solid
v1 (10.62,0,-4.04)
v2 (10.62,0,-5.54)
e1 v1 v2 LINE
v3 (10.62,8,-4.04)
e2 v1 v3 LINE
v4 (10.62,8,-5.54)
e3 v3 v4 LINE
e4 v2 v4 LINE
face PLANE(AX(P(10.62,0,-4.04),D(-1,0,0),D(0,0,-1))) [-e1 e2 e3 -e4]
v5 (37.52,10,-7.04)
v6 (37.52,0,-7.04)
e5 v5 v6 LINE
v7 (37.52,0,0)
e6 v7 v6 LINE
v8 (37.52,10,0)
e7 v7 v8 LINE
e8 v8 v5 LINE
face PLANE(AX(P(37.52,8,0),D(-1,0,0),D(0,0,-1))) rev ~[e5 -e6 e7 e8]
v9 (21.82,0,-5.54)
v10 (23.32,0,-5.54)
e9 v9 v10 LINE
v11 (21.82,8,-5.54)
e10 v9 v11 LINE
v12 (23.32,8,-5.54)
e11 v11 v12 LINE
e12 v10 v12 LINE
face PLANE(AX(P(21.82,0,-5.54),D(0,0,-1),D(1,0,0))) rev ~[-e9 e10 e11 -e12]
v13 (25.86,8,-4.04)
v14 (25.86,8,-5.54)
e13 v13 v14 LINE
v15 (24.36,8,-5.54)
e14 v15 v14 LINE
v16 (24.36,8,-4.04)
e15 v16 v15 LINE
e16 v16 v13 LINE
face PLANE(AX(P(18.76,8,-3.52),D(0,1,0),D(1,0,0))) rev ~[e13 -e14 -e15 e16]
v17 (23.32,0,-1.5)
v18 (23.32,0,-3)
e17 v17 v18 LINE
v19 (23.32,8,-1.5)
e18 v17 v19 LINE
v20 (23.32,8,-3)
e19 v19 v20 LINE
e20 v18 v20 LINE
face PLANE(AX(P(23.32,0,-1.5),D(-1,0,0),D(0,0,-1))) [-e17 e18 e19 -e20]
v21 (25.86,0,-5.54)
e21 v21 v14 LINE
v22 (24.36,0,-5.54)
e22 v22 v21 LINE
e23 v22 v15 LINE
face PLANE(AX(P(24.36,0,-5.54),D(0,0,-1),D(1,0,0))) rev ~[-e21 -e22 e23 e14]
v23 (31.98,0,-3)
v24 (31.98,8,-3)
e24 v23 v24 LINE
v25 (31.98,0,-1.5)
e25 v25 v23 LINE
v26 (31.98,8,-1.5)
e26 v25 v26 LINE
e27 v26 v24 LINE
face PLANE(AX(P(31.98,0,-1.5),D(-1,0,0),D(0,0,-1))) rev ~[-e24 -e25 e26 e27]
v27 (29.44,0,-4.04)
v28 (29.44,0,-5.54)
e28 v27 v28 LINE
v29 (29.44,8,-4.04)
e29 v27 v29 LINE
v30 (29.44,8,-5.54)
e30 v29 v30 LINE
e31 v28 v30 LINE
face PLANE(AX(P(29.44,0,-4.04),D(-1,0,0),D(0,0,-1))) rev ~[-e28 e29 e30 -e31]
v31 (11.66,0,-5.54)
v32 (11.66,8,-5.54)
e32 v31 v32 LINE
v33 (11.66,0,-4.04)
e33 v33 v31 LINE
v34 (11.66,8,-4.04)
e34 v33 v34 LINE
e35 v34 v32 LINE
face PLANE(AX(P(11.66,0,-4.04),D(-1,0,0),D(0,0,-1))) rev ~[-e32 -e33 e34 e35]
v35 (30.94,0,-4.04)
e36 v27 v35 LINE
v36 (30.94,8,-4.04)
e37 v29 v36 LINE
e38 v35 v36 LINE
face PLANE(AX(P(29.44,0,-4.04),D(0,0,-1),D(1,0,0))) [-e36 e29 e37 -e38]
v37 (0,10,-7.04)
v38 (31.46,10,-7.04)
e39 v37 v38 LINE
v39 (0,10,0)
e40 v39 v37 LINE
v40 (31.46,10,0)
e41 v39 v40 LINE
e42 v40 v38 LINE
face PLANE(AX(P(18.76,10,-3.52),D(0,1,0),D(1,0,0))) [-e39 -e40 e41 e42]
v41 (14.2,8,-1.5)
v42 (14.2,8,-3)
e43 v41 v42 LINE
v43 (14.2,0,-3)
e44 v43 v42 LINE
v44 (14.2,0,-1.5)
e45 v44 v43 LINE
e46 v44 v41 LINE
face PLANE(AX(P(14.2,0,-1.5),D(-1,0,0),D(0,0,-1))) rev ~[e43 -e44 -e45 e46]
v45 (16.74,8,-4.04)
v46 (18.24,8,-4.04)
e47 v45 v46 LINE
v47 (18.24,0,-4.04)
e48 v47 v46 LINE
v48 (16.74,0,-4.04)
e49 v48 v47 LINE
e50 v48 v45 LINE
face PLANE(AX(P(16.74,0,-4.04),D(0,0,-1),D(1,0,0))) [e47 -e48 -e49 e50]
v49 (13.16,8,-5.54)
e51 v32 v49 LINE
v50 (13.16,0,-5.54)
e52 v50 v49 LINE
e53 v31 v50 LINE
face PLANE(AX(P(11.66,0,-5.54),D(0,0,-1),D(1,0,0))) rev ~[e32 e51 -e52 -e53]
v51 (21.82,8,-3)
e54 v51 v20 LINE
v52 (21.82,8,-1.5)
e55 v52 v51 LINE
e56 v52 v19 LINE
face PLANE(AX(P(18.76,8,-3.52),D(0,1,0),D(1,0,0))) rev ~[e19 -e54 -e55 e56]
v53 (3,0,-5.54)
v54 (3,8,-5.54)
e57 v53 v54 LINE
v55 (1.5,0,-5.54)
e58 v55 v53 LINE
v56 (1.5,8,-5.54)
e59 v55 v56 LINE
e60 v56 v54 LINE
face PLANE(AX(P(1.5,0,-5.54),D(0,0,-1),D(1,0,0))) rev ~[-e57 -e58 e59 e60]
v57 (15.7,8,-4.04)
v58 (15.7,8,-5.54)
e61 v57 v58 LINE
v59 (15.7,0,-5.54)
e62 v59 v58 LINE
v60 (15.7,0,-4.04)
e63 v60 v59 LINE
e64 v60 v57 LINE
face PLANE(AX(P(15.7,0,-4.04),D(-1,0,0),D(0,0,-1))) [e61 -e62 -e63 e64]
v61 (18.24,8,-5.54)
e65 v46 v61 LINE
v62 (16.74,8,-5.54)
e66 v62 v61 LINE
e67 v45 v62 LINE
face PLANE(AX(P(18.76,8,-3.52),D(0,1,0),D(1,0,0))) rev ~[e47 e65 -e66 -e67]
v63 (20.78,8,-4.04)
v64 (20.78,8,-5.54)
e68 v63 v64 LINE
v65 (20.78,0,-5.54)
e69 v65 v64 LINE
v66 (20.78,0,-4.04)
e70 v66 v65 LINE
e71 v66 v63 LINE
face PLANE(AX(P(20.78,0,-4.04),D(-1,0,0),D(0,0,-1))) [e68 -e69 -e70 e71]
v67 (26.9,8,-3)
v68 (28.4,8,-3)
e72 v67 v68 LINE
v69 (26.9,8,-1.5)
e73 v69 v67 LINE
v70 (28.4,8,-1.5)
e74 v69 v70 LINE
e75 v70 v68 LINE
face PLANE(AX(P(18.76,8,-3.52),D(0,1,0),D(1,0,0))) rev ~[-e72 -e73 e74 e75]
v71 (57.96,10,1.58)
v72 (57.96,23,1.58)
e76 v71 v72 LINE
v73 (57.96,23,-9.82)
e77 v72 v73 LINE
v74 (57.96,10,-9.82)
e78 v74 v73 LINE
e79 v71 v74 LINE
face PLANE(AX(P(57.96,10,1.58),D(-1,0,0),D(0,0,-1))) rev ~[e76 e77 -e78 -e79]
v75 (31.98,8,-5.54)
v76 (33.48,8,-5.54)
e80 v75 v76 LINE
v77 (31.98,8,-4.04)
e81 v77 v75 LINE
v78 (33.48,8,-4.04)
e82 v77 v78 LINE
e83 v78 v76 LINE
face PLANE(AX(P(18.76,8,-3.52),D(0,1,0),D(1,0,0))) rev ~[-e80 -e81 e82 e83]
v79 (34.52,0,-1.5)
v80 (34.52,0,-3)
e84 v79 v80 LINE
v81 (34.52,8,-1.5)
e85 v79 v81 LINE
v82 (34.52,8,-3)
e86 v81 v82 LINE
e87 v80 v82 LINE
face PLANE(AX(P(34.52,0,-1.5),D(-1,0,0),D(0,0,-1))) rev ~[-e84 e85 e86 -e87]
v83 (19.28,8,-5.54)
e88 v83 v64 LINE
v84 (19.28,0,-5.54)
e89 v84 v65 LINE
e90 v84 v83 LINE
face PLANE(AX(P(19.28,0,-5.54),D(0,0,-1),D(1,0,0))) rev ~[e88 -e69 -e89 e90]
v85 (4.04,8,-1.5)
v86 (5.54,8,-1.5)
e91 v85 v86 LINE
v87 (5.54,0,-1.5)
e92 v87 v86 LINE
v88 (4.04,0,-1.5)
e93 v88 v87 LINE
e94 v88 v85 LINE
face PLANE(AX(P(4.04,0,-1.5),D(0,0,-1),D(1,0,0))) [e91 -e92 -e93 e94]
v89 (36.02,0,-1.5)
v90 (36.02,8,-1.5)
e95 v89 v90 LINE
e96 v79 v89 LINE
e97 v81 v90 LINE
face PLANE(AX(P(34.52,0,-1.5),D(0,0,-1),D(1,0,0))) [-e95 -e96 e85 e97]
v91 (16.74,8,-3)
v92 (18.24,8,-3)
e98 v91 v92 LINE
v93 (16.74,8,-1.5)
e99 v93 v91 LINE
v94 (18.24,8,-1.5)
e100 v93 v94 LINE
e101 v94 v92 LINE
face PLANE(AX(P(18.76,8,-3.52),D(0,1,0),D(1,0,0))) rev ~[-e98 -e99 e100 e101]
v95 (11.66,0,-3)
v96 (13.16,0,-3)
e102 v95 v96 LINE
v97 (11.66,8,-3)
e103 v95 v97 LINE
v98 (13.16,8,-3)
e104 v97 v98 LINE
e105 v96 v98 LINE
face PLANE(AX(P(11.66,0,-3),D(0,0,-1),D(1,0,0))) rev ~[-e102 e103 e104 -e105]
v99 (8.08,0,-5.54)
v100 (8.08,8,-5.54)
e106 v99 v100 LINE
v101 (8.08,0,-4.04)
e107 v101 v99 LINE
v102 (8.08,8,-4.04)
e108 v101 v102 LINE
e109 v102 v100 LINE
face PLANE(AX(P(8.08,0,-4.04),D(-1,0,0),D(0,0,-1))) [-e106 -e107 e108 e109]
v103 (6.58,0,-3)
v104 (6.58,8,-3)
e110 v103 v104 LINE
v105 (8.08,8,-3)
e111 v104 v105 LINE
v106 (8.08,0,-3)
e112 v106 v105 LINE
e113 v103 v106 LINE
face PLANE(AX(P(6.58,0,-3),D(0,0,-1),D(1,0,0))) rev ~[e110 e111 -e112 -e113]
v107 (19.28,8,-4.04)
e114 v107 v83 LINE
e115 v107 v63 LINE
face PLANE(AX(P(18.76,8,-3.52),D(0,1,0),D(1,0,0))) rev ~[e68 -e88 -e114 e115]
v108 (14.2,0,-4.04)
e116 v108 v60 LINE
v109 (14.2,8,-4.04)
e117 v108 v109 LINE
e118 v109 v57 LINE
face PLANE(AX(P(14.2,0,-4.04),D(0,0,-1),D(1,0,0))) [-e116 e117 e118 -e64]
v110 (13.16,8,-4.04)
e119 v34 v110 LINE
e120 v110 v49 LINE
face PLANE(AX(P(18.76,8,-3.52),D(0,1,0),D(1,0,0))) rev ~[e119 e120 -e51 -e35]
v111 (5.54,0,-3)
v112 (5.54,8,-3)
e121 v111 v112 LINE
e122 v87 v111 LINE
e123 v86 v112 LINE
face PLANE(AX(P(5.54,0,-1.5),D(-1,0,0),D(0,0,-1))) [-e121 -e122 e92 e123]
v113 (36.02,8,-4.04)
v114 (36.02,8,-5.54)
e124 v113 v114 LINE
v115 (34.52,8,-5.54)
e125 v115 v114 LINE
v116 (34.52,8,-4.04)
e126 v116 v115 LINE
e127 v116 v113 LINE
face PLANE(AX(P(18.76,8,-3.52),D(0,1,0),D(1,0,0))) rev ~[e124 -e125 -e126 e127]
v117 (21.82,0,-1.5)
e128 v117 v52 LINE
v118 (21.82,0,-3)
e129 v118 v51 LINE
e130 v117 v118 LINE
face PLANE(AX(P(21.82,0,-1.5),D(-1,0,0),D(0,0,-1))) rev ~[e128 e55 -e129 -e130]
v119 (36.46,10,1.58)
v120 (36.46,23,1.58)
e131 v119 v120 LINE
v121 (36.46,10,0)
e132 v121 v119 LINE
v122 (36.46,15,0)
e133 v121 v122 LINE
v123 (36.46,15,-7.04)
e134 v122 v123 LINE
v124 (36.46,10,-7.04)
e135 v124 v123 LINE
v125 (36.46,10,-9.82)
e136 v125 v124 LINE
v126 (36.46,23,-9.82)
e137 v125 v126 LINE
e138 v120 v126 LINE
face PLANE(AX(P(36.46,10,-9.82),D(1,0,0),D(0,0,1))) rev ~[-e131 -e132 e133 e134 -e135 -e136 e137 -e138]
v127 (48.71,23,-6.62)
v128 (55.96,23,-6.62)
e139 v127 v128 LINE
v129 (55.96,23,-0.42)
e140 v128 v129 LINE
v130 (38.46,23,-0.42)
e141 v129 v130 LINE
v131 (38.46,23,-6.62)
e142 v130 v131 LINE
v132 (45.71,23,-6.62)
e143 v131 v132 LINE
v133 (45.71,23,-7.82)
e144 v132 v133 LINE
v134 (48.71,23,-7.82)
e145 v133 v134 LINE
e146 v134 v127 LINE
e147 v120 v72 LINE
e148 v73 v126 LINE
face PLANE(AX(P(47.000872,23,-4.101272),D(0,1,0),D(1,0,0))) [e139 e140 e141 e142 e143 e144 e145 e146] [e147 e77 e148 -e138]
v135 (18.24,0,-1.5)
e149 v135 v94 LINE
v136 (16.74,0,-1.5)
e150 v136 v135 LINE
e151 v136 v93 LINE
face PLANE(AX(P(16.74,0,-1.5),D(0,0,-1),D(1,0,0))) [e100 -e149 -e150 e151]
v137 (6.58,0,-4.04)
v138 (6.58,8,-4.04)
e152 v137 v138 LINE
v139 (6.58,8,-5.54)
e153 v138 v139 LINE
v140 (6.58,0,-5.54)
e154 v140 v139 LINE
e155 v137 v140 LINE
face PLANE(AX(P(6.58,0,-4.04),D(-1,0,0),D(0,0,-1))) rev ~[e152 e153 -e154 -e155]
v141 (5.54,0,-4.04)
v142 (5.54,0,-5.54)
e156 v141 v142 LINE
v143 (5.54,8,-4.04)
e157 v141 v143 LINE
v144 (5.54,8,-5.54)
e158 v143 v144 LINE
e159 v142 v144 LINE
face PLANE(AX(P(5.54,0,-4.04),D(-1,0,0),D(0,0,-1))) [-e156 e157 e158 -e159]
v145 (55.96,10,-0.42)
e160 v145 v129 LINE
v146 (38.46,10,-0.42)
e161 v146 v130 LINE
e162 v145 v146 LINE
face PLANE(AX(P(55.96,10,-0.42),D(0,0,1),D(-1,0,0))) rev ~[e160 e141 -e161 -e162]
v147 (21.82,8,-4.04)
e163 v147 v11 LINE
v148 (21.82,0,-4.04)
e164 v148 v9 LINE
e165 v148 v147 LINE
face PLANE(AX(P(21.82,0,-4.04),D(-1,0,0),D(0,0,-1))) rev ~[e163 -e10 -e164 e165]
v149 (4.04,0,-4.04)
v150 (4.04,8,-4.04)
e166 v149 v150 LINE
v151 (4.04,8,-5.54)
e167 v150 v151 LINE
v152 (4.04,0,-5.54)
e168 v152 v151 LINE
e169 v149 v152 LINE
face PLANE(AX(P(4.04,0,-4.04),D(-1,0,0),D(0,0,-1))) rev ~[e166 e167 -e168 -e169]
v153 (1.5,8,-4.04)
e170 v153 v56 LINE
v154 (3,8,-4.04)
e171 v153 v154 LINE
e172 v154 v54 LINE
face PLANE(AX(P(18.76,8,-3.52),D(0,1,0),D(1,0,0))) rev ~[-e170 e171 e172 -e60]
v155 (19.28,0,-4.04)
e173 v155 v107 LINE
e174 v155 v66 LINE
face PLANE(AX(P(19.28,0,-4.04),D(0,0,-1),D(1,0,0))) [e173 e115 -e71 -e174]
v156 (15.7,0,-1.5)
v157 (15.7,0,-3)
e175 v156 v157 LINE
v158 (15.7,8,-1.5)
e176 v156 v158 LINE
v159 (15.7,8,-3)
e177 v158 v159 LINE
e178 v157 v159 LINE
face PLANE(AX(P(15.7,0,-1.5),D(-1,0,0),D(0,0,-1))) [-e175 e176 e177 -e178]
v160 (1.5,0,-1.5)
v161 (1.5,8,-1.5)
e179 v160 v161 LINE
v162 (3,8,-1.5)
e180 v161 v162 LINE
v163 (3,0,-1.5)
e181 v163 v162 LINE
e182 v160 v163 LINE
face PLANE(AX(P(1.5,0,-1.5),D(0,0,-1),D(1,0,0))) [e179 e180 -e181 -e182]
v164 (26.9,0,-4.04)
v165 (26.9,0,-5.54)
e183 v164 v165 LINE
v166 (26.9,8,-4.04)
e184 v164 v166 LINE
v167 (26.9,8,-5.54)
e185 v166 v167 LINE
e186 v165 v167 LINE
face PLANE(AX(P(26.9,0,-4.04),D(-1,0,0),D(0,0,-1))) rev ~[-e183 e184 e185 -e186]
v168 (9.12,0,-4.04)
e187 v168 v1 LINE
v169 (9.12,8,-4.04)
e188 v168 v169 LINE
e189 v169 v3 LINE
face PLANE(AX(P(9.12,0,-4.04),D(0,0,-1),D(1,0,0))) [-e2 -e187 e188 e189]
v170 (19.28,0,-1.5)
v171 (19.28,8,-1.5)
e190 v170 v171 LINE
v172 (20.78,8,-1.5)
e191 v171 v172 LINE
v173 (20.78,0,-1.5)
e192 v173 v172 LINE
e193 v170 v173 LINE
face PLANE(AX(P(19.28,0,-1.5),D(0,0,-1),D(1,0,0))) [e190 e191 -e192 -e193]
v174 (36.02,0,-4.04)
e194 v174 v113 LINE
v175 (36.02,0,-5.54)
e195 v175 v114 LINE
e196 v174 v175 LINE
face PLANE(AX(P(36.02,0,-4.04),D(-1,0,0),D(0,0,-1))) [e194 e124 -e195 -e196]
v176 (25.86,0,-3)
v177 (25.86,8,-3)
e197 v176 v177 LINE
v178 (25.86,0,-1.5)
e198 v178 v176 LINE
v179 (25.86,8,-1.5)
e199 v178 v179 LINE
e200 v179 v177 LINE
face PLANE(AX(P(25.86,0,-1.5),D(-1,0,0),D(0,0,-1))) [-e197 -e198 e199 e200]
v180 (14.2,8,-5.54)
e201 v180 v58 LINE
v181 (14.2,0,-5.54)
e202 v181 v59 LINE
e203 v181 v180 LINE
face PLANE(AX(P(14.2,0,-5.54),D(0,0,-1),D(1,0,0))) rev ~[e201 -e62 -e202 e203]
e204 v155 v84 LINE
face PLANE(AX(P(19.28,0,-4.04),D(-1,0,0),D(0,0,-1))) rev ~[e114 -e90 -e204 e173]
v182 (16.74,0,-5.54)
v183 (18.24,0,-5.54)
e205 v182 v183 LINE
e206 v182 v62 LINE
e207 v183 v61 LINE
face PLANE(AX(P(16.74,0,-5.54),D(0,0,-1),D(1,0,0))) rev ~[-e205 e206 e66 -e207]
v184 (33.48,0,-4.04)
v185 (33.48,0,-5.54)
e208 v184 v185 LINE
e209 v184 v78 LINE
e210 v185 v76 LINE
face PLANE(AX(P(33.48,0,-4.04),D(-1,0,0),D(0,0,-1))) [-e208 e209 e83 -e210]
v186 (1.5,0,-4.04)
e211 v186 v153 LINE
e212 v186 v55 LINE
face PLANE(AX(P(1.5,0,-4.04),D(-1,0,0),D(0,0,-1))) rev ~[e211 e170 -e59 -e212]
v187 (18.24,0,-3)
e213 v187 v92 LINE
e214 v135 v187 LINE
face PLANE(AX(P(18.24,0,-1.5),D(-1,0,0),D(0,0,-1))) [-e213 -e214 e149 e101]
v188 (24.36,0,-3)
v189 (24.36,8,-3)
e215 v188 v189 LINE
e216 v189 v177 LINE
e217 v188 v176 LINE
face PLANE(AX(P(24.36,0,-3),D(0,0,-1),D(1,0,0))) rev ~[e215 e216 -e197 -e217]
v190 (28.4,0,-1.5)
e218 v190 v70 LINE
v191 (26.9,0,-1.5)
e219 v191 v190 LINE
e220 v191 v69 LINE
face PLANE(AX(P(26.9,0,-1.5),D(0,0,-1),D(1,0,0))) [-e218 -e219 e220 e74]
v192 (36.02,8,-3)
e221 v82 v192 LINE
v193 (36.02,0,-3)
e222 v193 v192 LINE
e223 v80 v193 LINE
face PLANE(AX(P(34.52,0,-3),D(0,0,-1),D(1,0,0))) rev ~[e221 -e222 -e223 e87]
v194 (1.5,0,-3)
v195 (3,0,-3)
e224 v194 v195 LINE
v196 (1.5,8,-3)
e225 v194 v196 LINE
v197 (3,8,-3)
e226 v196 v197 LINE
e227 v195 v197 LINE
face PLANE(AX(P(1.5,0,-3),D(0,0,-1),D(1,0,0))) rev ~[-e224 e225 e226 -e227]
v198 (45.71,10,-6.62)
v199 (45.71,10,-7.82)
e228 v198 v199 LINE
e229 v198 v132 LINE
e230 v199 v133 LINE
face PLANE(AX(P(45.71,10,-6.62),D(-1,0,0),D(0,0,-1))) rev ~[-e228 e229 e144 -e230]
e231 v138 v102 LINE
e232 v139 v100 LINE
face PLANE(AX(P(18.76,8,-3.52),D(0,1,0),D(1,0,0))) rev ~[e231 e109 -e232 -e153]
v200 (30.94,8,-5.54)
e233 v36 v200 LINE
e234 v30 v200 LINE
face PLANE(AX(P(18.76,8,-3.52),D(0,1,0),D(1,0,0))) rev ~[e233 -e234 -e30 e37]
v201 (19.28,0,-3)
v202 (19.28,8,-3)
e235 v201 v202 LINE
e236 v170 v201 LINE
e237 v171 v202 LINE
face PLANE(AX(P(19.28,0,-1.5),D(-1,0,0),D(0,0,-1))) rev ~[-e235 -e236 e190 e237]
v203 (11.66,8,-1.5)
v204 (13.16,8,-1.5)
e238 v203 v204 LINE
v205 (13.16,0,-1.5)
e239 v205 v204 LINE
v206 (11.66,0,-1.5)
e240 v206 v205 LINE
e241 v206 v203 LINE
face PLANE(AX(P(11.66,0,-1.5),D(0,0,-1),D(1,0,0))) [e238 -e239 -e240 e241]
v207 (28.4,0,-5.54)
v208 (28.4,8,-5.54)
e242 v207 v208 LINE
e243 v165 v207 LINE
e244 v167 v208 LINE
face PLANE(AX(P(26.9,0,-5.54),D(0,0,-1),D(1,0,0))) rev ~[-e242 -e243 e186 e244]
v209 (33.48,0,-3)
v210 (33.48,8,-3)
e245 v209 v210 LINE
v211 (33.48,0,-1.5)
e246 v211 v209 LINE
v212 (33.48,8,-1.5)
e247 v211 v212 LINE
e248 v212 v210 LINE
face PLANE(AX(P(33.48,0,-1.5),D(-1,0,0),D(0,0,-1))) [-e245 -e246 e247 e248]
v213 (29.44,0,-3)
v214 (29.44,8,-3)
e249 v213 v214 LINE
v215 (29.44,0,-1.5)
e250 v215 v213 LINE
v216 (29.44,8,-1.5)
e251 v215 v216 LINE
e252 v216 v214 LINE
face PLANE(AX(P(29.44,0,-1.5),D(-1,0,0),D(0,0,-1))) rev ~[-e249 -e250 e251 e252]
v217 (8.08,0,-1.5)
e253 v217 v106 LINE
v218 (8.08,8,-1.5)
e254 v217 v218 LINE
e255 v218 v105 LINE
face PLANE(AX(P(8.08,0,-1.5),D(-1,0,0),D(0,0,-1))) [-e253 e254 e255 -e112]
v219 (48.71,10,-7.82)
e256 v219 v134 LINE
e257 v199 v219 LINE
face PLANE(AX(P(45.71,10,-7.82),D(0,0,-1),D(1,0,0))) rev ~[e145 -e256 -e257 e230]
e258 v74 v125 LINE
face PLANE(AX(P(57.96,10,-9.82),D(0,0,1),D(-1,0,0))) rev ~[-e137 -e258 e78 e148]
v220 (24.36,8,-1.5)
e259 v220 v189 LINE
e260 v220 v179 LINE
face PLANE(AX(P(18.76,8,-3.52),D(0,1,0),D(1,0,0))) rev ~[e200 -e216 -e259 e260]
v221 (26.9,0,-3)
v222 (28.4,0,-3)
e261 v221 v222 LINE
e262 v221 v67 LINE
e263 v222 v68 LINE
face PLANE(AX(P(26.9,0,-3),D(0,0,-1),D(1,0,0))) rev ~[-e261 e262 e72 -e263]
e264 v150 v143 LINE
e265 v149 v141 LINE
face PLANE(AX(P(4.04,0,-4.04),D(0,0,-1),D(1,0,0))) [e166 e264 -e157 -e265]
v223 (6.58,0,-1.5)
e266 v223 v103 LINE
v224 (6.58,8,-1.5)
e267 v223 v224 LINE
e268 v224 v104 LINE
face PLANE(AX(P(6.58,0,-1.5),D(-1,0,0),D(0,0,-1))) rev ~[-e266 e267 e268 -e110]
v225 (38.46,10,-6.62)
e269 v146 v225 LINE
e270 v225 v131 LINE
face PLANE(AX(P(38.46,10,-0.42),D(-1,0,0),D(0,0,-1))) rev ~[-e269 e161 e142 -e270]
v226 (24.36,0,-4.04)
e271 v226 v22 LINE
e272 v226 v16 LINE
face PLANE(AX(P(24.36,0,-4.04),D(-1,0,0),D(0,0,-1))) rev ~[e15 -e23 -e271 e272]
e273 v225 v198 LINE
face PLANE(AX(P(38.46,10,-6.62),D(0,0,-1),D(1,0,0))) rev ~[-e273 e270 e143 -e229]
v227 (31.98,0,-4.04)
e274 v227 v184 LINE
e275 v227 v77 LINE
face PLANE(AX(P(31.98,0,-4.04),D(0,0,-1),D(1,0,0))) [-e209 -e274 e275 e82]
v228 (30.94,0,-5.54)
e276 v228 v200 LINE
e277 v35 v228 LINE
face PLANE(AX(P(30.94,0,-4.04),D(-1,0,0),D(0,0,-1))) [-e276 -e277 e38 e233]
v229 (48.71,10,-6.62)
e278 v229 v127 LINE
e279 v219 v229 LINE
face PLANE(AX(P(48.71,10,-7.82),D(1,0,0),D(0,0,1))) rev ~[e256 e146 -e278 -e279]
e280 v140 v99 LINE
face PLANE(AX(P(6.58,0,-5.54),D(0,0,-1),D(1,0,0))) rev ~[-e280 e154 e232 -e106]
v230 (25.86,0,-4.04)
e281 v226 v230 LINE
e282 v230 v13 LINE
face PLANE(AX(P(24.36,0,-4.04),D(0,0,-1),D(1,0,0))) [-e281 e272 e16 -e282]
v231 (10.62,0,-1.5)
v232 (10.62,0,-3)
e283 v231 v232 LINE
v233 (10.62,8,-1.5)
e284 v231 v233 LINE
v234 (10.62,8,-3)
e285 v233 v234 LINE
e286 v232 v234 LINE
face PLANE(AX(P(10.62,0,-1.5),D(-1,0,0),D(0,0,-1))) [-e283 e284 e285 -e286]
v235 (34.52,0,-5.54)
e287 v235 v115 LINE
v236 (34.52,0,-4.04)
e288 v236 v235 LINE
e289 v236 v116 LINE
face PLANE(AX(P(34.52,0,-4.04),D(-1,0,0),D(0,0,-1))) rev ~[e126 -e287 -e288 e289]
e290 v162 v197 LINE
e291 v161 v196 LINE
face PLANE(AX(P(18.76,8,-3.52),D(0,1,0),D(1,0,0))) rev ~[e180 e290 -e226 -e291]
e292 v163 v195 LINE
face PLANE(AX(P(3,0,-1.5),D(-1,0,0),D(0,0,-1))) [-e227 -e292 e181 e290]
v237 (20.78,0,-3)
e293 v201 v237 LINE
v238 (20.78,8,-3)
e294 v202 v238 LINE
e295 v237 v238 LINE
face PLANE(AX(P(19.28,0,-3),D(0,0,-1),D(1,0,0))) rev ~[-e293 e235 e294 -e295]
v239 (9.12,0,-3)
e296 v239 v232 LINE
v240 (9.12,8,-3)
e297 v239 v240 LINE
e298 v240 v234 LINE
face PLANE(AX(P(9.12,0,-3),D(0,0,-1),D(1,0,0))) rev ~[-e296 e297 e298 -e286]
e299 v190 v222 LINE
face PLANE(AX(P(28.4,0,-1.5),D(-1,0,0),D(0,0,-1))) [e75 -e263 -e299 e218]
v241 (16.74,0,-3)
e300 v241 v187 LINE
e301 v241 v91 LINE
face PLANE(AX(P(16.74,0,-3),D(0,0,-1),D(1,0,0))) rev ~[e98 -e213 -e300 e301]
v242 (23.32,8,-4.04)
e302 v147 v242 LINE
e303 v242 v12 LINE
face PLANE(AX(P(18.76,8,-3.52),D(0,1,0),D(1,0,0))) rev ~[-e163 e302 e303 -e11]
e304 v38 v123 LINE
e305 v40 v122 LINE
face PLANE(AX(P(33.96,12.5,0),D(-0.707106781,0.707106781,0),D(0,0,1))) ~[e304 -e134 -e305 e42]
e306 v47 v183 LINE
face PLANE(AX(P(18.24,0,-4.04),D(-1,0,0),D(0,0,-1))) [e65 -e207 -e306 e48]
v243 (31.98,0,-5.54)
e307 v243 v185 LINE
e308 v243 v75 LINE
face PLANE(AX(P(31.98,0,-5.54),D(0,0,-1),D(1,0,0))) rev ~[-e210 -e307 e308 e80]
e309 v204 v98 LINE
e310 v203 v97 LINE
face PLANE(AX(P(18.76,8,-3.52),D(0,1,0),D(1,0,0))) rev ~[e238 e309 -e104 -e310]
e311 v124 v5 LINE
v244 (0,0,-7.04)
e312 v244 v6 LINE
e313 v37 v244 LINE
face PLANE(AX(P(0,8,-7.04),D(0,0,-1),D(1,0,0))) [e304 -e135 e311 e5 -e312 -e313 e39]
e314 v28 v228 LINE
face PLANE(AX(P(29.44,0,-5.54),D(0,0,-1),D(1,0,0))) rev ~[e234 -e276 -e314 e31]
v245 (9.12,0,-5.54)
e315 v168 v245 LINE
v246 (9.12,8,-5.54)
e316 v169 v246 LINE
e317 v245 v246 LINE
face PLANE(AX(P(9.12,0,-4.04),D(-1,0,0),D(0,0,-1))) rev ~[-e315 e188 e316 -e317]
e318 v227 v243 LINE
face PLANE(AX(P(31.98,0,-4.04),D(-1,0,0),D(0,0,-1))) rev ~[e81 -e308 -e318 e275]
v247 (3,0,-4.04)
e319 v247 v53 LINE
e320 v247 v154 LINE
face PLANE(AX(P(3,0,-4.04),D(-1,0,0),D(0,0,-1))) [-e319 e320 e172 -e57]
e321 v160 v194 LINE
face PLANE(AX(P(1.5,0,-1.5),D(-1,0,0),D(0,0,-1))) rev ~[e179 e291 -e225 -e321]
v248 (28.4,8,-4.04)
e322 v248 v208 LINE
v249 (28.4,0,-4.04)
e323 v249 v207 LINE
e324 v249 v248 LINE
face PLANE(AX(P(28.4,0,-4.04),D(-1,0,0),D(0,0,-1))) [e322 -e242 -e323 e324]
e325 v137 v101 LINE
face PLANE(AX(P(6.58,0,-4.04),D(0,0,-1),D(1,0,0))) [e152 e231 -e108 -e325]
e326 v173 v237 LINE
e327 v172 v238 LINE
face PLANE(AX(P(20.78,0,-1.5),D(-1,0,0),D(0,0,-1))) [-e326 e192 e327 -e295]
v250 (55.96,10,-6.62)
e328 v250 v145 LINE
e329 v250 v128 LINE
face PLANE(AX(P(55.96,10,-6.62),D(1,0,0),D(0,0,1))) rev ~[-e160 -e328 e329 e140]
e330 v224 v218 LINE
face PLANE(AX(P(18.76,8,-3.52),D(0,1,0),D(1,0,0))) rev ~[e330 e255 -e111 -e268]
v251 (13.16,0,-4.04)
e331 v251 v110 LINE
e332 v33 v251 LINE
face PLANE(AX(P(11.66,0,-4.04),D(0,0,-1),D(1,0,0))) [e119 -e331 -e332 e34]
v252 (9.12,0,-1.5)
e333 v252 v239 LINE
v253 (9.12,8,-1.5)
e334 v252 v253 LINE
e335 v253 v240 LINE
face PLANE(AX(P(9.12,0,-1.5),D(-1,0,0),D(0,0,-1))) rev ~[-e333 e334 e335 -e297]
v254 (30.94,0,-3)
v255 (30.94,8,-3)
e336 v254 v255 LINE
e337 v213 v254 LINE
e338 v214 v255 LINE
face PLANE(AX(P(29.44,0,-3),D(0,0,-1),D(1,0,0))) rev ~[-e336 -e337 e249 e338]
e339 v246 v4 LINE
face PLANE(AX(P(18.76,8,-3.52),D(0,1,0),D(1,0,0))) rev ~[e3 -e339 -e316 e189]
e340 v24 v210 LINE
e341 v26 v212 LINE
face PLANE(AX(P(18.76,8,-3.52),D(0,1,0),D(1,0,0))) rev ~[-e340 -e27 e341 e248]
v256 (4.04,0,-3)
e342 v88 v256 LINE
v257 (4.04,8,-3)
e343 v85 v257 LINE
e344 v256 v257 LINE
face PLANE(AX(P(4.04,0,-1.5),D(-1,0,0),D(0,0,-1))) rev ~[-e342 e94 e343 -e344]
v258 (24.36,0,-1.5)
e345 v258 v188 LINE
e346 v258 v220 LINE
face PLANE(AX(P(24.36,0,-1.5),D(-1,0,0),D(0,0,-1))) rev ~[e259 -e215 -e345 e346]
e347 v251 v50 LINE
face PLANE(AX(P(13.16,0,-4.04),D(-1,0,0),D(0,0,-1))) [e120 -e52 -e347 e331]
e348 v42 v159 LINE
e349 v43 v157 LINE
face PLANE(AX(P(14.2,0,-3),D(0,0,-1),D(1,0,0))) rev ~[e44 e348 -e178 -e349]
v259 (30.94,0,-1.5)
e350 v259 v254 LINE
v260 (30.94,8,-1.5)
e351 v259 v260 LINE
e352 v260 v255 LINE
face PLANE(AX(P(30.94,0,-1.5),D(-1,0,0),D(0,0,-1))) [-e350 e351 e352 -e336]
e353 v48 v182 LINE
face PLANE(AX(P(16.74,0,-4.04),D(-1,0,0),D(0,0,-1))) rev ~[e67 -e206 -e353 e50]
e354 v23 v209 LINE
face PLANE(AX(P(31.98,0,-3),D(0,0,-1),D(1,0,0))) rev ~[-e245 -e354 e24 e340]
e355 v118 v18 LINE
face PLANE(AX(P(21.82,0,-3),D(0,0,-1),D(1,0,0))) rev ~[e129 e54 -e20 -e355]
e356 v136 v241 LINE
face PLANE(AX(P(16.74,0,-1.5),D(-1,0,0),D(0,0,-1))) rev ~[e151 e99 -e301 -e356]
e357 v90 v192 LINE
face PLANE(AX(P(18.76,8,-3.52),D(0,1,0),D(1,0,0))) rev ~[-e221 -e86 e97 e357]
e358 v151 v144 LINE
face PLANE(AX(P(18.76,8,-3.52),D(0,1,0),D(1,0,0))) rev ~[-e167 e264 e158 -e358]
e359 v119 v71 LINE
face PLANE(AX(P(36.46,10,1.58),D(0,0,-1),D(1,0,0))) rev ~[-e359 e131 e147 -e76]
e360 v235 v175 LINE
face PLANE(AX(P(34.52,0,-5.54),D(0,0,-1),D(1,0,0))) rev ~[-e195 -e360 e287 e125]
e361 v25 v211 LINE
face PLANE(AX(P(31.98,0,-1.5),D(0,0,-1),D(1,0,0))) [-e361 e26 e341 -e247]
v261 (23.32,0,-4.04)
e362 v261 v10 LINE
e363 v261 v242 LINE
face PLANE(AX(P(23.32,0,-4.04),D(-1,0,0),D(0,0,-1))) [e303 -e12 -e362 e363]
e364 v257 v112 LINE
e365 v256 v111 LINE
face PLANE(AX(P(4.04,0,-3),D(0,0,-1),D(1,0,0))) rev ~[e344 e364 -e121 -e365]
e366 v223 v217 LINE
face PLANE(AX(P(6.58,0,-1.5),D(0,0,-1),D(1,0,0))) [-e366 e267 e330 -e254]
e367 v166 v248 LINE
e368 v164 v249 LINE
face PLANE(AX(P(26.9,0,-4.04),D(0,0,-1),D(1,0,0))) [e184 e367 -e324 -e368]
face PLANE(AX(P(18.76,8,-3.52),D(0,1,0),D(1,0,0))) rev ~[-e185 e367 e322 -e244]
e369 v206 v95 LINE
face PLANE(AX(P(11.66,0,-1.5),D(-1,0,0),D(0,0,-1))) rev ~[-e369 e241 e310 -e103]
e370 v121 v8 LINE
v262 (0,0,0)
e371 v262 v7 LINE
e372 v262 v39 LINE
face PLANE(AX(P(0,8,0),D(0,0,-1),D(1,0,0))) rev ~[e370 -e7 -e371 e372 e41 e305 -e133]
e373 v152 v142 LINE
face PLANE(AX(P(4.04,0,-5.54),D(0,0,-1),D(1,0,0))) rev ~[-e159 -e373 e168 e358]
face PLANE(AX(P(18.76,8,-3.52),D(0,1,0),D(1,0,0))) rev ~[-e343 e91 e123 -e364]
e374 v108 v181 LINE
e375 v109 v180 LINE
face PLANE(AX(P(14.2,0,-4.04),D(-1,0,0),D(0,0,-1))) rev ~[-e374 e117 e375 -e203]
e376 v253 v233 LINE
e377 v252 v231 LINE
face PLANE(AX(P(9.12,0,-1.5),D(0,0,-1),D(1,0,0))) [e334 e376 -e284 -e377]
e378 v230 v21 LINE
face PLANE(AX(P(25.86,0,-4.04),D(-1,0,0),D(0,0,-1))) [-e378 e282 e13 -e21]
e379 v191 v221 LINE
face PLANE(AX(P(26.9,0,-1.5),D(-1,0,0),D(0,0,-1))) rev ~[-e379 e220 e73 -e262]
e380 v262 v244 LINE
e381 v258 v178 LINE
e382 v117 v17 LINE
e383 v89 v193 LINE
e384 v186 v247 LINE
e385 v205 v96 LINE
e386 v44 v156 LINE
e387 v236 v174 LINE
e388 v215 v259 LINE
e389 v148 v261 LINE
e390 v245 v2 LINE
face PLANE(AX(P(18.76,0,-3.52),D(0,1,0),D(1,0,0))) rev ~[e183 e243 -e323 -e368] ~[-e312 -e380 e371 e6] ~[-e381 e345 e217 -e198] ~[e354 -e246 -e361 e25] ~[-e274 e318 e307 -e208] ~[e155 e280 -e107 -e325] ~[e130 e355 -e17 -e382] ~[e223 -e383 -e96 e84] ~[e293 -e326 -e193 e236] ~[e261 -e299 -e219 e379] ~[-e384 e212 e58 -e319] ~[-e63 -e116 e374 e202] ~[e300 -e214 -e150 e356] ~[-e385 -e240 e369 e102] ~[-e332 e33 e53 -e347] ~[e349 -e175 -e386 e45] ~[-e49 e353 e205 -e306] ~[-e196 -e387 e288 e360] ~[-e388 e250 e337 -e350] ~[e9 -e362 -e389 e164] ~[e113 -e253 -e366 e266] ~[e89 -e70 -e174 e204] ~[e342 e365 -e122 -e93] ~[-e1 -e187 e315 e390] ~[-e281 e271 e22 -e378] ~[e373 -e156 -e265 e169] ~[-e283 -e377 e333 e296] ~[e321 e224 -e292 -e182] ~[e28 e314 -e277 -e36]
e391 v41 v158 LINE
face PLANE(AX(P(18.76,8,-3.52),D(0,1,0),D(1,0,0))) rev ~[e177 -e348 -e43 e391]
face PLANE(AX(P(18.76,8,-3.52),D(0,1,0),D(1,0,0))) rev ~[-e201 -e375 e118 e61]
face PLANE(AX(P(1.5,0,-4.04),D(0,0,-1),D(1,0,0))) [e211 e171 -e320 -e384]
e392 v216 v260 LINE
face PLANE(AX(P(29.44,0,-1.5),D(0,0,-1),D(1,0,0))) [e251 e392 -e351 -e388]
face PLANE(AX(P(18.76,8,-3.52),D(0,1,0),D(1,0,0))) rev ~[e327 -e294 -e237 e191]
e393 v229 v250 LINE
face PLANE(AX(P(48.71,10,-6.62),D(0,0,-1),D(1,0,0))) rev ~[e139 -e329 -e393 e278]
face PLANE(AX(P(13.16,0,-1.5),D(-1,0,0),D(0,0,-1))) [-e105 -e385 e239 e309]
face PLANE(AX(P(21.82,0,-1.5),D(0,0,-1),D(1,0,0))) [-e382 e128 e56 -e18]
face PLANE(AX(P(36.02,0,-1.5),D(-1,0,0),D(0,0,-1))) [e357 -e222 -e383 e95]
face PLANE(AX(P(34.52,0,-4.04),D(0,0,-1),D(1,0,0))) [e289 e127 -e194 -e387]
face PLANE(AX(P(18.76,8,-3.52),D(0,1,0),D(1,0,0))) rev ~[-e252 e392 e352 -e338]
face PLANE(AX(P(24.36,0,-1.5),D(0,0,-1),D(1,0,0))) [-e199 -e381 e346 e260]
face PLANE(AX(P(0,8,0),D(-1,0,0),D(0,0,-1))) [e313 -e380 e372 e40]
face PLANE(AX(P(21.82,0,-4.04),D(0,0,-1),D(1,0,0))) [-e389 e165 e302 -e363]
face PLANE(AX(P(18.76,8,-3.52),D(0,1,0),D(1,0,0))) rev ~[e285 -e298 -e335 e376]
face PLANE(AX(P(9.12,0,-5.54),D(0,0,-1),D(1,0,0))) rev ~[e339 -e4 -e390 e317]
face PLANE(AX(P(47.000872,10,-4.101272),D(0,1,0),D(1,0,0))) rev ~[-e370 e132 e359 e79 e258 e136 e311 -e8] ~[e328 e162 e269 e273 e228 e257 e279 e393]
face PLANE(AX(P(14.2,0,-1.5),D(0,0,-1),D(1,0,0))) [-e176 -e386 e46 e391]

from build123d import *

# Parameters (mm, degrees)
SKETCH1_W           = 37.52
SKETCH1_H           = 7.04
SKETCH1_W_2         = 1.5
SKETCH1_H_2         = 1.5
BOSS_EXTRUDE1_DEPTH = 8
SKETCH2_W           = 37.52
SKETCH2_H           = 7.04
BOSS_EXTRUDE2_DEPTH = 2
SKETCH3_W           = 1.06
SKETCH3_H           = 7.04
BOSS_EXTRUDE3_DEPTH = 13
CHAMFER1_SIZE       = 5


with BuildPart() as part:
    # Sketch1 → Boss-Extrude1 (new body)
    with BuildSketch(Plane(origin=(0, 0, 0), x_dir=(1, 0, 0), z_dir=(0, 1, 0))):
        with Locations((18.76, 3.52)):
            Rectangle(SKETCH1_W, SKETCH1_H)
        with Locations((4.79, 2.25)):
            Rectangle(SKETCH1_W_2, SKETCH1_H_2, mode=Mode.SUBTRACT)
        with Locations((2.25, 2.25)):
            Rectangle(SKETCH1_W_2, SKETCH1_H_2, mode=Mode.SUBTRACT)
        with Locations((7.33, 2.25)):
            Rectangle(SKETCH1_W_2, SKETCH1_H_2, mode=Mode.SUBTRACT)
        with Locations((9.87, 2.25)):
            Rectangle(SKETCH1_W_2, SKETCH1_H_2, mode=Mode.SUBTRACT)
        with Locations((12.41, 2.25)):
            Rectangle(SKETCH1_W_2, SKETCH1_H_2, mode=Mode.SUBTRACT)
        with Locations((14.95, 2.25)):
            Rectangle(SKETCH1_W_2, SKETCH1_H_2, mode=Mode.SUBTRACT)
        with Locations((17.49, 2.25)):
            Rectangle(SKETCH1_W_2, SKETCH1_H_2, mode=Mode.SUBTRACT)
        with Locations((20.03, 2.25)):
            Rectangle(SKETCH1_W_2, SKETCH1_H_2, mode=Mode.SUBTRACT)
        with Locations((22.57, 2.25)):
            Rectangle(SKETCH1_W_2, SKETCH1_H_2, mode=Mode.SUBTRACT)
        with Locations((25.11, 2.25)):
            Rectangle(SKETCH1_W_2, SKETCH1_H_2, mode=Mode.SUBTRACT)
        with Locations((27.65, 2.25)):
            Rectangle(SKETCH1_W_2, SKETCH1_H_2, mode=Mode.SUBTRACT)
        with Locations((30.19, 2.25)):
            Rectangle(SKETCH1_W_2, SKETCH1_H_2, mode=Mode.SUBTRACT)
        with Locations((32.73, 2.25)):
            Rectangle(SKETCH1_W_2, SKETCH1_H_2, mode=Mode.SUBTRACT)
        with Locations((35.27, 2.25)):
            Rectangle(SKETCH1_W_2, SKETCH1_H_2, mode=Mode.SUBTRACT)
        with Locations((4.79, 4.79)):
            Rectangle(SKETCH1_W_2, SKETCH1_H_2, mode=Mode.SUBTRACT)
        with Locations((7.33, 4.79)):
            Rectangle(SKETCH1_W_2, SKETCH1_H_2, mode=Mode.SUBTRACT)
        with Locations((9.87, 4.79)):
            Rectangle(SKETCH1_W_2, SKETCH1_H_2, mode=Mode.SUBTRACT)
        with Locations((12.41, 4.79)):
            Rectangle(SKETCH1_W_2, SKETCH1_H_2, mode=Mode.SUBTRACT)
        with Locations((14.95, 4.79)):
            Rectangle(SKETCH1_W_2, SKETCH1_H_2, mode=Mode.SUBTRACT)
        with Locations((17.49, 4.79)):
            Rectangle(SKETCH1_W_2, SKETCH1_H_2, mode=Mode.SUBTRACT)
        with Locations((20.03, 4.79)):
            Rectangle(SKETCH1_W_2, SKETCH1_H_2, mode=Mode.SUBTRACT)
        with Locations((22.57, 4.79)):
            Rectangle(SKETCH1_W_2, SKETCH1_H_2, mode=Mode.SUBTRACT)
        with Locations((25.11, 4.79)):
            Rectangle(SKETCH1_W_2, SKETCH1_H_2, mode=Mode.SUBTRACT)
        with Locations((27.65, 4.79)):
            Rectangle(SKETCH1_W_2, SKETCH1_H_2, mode=Mode.SUBTRACT)
        with Locations((30.19, 4.79)):
            Rectangle(SKETCH1_W_2, SKETCH1_H_2, mode=Mode.SUBTRACT)
        with Locations((32.73, 4.79)):
            Rectangle(SKETCH1_W_2, SKETCH1_H_2, mode=Mode.SUBTRACT)
        with Locations((35.27, 4.79)):
            Rectangle(SKETCH1_W_2, SKETCH1_H_2, mode=Mode.SUBTRACT)
        with Locations((2.25, 4.79)):
            Rectangle(SKETCH1_W_2, SKETCH1_H_2, mode=Mode.SUBTRACT)
    extrude(amount=BOSS_EXTRUDE1_DEPTH)

    # Sketch2 → Boss-Extrude2 (add)
    with BuildSketch(Plane(origin=(0, 8, 0), x_dir=(1, 0, 0), z_dir=(0, 1, 0))):
        with Locations((18.76, 3.52)):
            Rectangle(SKETCH2_W, SKETCH2_H)
    extrude(amount=BOSS_EXTRUDE2_DEPTH)

    # Sketch3 → Boss-Extrude3 (add)
    # profile 1 of 2: a face of its own
    with BuildSketch(Plane(origin=(0, 10, 0), x_dir=(1, 0, 0), z_dir=(0, 1, 0))):
        Polygon((57.96, 9.82), (36.46, 9.82), (36.46, 7.04), (37.52, 7.04), (37.52, 0), (36.46, 0), (36.46, -1.58), (57.96, -1.58), align=None)
        Polygon((38.46, 0.42), (38.46, 6.62), (45.71, 6.62), (45.71, 7.82), (48.71, 7.82), (48.71, 6.62), (55.96, 6.62), (55.96, 0.42), align=None, mode=Mode.SUBTRACT)
    # profile 2 of 2: a face of its own
    with BuildSketch(Plane(origin=(0, 10, 0), x_dir=(1, 0, 0), z_dir=(0, 1, 0))):
        with Locations((36.99, 3.52)):
            Rectangle(SKETCH3_W, SKETCH3_H)
    extrude(amount=BOSS_EXTRUDE3_DEPTH)

    # Chamfer1
    chamfer1_edges = [part.edges().sort_by_distance(p)[0] for p in [
        (36.46, 10, -3.52),
    ]]
    chamfer(chamfer1_edges, length=CHAMFER1_SIZE)


solid = part.part
